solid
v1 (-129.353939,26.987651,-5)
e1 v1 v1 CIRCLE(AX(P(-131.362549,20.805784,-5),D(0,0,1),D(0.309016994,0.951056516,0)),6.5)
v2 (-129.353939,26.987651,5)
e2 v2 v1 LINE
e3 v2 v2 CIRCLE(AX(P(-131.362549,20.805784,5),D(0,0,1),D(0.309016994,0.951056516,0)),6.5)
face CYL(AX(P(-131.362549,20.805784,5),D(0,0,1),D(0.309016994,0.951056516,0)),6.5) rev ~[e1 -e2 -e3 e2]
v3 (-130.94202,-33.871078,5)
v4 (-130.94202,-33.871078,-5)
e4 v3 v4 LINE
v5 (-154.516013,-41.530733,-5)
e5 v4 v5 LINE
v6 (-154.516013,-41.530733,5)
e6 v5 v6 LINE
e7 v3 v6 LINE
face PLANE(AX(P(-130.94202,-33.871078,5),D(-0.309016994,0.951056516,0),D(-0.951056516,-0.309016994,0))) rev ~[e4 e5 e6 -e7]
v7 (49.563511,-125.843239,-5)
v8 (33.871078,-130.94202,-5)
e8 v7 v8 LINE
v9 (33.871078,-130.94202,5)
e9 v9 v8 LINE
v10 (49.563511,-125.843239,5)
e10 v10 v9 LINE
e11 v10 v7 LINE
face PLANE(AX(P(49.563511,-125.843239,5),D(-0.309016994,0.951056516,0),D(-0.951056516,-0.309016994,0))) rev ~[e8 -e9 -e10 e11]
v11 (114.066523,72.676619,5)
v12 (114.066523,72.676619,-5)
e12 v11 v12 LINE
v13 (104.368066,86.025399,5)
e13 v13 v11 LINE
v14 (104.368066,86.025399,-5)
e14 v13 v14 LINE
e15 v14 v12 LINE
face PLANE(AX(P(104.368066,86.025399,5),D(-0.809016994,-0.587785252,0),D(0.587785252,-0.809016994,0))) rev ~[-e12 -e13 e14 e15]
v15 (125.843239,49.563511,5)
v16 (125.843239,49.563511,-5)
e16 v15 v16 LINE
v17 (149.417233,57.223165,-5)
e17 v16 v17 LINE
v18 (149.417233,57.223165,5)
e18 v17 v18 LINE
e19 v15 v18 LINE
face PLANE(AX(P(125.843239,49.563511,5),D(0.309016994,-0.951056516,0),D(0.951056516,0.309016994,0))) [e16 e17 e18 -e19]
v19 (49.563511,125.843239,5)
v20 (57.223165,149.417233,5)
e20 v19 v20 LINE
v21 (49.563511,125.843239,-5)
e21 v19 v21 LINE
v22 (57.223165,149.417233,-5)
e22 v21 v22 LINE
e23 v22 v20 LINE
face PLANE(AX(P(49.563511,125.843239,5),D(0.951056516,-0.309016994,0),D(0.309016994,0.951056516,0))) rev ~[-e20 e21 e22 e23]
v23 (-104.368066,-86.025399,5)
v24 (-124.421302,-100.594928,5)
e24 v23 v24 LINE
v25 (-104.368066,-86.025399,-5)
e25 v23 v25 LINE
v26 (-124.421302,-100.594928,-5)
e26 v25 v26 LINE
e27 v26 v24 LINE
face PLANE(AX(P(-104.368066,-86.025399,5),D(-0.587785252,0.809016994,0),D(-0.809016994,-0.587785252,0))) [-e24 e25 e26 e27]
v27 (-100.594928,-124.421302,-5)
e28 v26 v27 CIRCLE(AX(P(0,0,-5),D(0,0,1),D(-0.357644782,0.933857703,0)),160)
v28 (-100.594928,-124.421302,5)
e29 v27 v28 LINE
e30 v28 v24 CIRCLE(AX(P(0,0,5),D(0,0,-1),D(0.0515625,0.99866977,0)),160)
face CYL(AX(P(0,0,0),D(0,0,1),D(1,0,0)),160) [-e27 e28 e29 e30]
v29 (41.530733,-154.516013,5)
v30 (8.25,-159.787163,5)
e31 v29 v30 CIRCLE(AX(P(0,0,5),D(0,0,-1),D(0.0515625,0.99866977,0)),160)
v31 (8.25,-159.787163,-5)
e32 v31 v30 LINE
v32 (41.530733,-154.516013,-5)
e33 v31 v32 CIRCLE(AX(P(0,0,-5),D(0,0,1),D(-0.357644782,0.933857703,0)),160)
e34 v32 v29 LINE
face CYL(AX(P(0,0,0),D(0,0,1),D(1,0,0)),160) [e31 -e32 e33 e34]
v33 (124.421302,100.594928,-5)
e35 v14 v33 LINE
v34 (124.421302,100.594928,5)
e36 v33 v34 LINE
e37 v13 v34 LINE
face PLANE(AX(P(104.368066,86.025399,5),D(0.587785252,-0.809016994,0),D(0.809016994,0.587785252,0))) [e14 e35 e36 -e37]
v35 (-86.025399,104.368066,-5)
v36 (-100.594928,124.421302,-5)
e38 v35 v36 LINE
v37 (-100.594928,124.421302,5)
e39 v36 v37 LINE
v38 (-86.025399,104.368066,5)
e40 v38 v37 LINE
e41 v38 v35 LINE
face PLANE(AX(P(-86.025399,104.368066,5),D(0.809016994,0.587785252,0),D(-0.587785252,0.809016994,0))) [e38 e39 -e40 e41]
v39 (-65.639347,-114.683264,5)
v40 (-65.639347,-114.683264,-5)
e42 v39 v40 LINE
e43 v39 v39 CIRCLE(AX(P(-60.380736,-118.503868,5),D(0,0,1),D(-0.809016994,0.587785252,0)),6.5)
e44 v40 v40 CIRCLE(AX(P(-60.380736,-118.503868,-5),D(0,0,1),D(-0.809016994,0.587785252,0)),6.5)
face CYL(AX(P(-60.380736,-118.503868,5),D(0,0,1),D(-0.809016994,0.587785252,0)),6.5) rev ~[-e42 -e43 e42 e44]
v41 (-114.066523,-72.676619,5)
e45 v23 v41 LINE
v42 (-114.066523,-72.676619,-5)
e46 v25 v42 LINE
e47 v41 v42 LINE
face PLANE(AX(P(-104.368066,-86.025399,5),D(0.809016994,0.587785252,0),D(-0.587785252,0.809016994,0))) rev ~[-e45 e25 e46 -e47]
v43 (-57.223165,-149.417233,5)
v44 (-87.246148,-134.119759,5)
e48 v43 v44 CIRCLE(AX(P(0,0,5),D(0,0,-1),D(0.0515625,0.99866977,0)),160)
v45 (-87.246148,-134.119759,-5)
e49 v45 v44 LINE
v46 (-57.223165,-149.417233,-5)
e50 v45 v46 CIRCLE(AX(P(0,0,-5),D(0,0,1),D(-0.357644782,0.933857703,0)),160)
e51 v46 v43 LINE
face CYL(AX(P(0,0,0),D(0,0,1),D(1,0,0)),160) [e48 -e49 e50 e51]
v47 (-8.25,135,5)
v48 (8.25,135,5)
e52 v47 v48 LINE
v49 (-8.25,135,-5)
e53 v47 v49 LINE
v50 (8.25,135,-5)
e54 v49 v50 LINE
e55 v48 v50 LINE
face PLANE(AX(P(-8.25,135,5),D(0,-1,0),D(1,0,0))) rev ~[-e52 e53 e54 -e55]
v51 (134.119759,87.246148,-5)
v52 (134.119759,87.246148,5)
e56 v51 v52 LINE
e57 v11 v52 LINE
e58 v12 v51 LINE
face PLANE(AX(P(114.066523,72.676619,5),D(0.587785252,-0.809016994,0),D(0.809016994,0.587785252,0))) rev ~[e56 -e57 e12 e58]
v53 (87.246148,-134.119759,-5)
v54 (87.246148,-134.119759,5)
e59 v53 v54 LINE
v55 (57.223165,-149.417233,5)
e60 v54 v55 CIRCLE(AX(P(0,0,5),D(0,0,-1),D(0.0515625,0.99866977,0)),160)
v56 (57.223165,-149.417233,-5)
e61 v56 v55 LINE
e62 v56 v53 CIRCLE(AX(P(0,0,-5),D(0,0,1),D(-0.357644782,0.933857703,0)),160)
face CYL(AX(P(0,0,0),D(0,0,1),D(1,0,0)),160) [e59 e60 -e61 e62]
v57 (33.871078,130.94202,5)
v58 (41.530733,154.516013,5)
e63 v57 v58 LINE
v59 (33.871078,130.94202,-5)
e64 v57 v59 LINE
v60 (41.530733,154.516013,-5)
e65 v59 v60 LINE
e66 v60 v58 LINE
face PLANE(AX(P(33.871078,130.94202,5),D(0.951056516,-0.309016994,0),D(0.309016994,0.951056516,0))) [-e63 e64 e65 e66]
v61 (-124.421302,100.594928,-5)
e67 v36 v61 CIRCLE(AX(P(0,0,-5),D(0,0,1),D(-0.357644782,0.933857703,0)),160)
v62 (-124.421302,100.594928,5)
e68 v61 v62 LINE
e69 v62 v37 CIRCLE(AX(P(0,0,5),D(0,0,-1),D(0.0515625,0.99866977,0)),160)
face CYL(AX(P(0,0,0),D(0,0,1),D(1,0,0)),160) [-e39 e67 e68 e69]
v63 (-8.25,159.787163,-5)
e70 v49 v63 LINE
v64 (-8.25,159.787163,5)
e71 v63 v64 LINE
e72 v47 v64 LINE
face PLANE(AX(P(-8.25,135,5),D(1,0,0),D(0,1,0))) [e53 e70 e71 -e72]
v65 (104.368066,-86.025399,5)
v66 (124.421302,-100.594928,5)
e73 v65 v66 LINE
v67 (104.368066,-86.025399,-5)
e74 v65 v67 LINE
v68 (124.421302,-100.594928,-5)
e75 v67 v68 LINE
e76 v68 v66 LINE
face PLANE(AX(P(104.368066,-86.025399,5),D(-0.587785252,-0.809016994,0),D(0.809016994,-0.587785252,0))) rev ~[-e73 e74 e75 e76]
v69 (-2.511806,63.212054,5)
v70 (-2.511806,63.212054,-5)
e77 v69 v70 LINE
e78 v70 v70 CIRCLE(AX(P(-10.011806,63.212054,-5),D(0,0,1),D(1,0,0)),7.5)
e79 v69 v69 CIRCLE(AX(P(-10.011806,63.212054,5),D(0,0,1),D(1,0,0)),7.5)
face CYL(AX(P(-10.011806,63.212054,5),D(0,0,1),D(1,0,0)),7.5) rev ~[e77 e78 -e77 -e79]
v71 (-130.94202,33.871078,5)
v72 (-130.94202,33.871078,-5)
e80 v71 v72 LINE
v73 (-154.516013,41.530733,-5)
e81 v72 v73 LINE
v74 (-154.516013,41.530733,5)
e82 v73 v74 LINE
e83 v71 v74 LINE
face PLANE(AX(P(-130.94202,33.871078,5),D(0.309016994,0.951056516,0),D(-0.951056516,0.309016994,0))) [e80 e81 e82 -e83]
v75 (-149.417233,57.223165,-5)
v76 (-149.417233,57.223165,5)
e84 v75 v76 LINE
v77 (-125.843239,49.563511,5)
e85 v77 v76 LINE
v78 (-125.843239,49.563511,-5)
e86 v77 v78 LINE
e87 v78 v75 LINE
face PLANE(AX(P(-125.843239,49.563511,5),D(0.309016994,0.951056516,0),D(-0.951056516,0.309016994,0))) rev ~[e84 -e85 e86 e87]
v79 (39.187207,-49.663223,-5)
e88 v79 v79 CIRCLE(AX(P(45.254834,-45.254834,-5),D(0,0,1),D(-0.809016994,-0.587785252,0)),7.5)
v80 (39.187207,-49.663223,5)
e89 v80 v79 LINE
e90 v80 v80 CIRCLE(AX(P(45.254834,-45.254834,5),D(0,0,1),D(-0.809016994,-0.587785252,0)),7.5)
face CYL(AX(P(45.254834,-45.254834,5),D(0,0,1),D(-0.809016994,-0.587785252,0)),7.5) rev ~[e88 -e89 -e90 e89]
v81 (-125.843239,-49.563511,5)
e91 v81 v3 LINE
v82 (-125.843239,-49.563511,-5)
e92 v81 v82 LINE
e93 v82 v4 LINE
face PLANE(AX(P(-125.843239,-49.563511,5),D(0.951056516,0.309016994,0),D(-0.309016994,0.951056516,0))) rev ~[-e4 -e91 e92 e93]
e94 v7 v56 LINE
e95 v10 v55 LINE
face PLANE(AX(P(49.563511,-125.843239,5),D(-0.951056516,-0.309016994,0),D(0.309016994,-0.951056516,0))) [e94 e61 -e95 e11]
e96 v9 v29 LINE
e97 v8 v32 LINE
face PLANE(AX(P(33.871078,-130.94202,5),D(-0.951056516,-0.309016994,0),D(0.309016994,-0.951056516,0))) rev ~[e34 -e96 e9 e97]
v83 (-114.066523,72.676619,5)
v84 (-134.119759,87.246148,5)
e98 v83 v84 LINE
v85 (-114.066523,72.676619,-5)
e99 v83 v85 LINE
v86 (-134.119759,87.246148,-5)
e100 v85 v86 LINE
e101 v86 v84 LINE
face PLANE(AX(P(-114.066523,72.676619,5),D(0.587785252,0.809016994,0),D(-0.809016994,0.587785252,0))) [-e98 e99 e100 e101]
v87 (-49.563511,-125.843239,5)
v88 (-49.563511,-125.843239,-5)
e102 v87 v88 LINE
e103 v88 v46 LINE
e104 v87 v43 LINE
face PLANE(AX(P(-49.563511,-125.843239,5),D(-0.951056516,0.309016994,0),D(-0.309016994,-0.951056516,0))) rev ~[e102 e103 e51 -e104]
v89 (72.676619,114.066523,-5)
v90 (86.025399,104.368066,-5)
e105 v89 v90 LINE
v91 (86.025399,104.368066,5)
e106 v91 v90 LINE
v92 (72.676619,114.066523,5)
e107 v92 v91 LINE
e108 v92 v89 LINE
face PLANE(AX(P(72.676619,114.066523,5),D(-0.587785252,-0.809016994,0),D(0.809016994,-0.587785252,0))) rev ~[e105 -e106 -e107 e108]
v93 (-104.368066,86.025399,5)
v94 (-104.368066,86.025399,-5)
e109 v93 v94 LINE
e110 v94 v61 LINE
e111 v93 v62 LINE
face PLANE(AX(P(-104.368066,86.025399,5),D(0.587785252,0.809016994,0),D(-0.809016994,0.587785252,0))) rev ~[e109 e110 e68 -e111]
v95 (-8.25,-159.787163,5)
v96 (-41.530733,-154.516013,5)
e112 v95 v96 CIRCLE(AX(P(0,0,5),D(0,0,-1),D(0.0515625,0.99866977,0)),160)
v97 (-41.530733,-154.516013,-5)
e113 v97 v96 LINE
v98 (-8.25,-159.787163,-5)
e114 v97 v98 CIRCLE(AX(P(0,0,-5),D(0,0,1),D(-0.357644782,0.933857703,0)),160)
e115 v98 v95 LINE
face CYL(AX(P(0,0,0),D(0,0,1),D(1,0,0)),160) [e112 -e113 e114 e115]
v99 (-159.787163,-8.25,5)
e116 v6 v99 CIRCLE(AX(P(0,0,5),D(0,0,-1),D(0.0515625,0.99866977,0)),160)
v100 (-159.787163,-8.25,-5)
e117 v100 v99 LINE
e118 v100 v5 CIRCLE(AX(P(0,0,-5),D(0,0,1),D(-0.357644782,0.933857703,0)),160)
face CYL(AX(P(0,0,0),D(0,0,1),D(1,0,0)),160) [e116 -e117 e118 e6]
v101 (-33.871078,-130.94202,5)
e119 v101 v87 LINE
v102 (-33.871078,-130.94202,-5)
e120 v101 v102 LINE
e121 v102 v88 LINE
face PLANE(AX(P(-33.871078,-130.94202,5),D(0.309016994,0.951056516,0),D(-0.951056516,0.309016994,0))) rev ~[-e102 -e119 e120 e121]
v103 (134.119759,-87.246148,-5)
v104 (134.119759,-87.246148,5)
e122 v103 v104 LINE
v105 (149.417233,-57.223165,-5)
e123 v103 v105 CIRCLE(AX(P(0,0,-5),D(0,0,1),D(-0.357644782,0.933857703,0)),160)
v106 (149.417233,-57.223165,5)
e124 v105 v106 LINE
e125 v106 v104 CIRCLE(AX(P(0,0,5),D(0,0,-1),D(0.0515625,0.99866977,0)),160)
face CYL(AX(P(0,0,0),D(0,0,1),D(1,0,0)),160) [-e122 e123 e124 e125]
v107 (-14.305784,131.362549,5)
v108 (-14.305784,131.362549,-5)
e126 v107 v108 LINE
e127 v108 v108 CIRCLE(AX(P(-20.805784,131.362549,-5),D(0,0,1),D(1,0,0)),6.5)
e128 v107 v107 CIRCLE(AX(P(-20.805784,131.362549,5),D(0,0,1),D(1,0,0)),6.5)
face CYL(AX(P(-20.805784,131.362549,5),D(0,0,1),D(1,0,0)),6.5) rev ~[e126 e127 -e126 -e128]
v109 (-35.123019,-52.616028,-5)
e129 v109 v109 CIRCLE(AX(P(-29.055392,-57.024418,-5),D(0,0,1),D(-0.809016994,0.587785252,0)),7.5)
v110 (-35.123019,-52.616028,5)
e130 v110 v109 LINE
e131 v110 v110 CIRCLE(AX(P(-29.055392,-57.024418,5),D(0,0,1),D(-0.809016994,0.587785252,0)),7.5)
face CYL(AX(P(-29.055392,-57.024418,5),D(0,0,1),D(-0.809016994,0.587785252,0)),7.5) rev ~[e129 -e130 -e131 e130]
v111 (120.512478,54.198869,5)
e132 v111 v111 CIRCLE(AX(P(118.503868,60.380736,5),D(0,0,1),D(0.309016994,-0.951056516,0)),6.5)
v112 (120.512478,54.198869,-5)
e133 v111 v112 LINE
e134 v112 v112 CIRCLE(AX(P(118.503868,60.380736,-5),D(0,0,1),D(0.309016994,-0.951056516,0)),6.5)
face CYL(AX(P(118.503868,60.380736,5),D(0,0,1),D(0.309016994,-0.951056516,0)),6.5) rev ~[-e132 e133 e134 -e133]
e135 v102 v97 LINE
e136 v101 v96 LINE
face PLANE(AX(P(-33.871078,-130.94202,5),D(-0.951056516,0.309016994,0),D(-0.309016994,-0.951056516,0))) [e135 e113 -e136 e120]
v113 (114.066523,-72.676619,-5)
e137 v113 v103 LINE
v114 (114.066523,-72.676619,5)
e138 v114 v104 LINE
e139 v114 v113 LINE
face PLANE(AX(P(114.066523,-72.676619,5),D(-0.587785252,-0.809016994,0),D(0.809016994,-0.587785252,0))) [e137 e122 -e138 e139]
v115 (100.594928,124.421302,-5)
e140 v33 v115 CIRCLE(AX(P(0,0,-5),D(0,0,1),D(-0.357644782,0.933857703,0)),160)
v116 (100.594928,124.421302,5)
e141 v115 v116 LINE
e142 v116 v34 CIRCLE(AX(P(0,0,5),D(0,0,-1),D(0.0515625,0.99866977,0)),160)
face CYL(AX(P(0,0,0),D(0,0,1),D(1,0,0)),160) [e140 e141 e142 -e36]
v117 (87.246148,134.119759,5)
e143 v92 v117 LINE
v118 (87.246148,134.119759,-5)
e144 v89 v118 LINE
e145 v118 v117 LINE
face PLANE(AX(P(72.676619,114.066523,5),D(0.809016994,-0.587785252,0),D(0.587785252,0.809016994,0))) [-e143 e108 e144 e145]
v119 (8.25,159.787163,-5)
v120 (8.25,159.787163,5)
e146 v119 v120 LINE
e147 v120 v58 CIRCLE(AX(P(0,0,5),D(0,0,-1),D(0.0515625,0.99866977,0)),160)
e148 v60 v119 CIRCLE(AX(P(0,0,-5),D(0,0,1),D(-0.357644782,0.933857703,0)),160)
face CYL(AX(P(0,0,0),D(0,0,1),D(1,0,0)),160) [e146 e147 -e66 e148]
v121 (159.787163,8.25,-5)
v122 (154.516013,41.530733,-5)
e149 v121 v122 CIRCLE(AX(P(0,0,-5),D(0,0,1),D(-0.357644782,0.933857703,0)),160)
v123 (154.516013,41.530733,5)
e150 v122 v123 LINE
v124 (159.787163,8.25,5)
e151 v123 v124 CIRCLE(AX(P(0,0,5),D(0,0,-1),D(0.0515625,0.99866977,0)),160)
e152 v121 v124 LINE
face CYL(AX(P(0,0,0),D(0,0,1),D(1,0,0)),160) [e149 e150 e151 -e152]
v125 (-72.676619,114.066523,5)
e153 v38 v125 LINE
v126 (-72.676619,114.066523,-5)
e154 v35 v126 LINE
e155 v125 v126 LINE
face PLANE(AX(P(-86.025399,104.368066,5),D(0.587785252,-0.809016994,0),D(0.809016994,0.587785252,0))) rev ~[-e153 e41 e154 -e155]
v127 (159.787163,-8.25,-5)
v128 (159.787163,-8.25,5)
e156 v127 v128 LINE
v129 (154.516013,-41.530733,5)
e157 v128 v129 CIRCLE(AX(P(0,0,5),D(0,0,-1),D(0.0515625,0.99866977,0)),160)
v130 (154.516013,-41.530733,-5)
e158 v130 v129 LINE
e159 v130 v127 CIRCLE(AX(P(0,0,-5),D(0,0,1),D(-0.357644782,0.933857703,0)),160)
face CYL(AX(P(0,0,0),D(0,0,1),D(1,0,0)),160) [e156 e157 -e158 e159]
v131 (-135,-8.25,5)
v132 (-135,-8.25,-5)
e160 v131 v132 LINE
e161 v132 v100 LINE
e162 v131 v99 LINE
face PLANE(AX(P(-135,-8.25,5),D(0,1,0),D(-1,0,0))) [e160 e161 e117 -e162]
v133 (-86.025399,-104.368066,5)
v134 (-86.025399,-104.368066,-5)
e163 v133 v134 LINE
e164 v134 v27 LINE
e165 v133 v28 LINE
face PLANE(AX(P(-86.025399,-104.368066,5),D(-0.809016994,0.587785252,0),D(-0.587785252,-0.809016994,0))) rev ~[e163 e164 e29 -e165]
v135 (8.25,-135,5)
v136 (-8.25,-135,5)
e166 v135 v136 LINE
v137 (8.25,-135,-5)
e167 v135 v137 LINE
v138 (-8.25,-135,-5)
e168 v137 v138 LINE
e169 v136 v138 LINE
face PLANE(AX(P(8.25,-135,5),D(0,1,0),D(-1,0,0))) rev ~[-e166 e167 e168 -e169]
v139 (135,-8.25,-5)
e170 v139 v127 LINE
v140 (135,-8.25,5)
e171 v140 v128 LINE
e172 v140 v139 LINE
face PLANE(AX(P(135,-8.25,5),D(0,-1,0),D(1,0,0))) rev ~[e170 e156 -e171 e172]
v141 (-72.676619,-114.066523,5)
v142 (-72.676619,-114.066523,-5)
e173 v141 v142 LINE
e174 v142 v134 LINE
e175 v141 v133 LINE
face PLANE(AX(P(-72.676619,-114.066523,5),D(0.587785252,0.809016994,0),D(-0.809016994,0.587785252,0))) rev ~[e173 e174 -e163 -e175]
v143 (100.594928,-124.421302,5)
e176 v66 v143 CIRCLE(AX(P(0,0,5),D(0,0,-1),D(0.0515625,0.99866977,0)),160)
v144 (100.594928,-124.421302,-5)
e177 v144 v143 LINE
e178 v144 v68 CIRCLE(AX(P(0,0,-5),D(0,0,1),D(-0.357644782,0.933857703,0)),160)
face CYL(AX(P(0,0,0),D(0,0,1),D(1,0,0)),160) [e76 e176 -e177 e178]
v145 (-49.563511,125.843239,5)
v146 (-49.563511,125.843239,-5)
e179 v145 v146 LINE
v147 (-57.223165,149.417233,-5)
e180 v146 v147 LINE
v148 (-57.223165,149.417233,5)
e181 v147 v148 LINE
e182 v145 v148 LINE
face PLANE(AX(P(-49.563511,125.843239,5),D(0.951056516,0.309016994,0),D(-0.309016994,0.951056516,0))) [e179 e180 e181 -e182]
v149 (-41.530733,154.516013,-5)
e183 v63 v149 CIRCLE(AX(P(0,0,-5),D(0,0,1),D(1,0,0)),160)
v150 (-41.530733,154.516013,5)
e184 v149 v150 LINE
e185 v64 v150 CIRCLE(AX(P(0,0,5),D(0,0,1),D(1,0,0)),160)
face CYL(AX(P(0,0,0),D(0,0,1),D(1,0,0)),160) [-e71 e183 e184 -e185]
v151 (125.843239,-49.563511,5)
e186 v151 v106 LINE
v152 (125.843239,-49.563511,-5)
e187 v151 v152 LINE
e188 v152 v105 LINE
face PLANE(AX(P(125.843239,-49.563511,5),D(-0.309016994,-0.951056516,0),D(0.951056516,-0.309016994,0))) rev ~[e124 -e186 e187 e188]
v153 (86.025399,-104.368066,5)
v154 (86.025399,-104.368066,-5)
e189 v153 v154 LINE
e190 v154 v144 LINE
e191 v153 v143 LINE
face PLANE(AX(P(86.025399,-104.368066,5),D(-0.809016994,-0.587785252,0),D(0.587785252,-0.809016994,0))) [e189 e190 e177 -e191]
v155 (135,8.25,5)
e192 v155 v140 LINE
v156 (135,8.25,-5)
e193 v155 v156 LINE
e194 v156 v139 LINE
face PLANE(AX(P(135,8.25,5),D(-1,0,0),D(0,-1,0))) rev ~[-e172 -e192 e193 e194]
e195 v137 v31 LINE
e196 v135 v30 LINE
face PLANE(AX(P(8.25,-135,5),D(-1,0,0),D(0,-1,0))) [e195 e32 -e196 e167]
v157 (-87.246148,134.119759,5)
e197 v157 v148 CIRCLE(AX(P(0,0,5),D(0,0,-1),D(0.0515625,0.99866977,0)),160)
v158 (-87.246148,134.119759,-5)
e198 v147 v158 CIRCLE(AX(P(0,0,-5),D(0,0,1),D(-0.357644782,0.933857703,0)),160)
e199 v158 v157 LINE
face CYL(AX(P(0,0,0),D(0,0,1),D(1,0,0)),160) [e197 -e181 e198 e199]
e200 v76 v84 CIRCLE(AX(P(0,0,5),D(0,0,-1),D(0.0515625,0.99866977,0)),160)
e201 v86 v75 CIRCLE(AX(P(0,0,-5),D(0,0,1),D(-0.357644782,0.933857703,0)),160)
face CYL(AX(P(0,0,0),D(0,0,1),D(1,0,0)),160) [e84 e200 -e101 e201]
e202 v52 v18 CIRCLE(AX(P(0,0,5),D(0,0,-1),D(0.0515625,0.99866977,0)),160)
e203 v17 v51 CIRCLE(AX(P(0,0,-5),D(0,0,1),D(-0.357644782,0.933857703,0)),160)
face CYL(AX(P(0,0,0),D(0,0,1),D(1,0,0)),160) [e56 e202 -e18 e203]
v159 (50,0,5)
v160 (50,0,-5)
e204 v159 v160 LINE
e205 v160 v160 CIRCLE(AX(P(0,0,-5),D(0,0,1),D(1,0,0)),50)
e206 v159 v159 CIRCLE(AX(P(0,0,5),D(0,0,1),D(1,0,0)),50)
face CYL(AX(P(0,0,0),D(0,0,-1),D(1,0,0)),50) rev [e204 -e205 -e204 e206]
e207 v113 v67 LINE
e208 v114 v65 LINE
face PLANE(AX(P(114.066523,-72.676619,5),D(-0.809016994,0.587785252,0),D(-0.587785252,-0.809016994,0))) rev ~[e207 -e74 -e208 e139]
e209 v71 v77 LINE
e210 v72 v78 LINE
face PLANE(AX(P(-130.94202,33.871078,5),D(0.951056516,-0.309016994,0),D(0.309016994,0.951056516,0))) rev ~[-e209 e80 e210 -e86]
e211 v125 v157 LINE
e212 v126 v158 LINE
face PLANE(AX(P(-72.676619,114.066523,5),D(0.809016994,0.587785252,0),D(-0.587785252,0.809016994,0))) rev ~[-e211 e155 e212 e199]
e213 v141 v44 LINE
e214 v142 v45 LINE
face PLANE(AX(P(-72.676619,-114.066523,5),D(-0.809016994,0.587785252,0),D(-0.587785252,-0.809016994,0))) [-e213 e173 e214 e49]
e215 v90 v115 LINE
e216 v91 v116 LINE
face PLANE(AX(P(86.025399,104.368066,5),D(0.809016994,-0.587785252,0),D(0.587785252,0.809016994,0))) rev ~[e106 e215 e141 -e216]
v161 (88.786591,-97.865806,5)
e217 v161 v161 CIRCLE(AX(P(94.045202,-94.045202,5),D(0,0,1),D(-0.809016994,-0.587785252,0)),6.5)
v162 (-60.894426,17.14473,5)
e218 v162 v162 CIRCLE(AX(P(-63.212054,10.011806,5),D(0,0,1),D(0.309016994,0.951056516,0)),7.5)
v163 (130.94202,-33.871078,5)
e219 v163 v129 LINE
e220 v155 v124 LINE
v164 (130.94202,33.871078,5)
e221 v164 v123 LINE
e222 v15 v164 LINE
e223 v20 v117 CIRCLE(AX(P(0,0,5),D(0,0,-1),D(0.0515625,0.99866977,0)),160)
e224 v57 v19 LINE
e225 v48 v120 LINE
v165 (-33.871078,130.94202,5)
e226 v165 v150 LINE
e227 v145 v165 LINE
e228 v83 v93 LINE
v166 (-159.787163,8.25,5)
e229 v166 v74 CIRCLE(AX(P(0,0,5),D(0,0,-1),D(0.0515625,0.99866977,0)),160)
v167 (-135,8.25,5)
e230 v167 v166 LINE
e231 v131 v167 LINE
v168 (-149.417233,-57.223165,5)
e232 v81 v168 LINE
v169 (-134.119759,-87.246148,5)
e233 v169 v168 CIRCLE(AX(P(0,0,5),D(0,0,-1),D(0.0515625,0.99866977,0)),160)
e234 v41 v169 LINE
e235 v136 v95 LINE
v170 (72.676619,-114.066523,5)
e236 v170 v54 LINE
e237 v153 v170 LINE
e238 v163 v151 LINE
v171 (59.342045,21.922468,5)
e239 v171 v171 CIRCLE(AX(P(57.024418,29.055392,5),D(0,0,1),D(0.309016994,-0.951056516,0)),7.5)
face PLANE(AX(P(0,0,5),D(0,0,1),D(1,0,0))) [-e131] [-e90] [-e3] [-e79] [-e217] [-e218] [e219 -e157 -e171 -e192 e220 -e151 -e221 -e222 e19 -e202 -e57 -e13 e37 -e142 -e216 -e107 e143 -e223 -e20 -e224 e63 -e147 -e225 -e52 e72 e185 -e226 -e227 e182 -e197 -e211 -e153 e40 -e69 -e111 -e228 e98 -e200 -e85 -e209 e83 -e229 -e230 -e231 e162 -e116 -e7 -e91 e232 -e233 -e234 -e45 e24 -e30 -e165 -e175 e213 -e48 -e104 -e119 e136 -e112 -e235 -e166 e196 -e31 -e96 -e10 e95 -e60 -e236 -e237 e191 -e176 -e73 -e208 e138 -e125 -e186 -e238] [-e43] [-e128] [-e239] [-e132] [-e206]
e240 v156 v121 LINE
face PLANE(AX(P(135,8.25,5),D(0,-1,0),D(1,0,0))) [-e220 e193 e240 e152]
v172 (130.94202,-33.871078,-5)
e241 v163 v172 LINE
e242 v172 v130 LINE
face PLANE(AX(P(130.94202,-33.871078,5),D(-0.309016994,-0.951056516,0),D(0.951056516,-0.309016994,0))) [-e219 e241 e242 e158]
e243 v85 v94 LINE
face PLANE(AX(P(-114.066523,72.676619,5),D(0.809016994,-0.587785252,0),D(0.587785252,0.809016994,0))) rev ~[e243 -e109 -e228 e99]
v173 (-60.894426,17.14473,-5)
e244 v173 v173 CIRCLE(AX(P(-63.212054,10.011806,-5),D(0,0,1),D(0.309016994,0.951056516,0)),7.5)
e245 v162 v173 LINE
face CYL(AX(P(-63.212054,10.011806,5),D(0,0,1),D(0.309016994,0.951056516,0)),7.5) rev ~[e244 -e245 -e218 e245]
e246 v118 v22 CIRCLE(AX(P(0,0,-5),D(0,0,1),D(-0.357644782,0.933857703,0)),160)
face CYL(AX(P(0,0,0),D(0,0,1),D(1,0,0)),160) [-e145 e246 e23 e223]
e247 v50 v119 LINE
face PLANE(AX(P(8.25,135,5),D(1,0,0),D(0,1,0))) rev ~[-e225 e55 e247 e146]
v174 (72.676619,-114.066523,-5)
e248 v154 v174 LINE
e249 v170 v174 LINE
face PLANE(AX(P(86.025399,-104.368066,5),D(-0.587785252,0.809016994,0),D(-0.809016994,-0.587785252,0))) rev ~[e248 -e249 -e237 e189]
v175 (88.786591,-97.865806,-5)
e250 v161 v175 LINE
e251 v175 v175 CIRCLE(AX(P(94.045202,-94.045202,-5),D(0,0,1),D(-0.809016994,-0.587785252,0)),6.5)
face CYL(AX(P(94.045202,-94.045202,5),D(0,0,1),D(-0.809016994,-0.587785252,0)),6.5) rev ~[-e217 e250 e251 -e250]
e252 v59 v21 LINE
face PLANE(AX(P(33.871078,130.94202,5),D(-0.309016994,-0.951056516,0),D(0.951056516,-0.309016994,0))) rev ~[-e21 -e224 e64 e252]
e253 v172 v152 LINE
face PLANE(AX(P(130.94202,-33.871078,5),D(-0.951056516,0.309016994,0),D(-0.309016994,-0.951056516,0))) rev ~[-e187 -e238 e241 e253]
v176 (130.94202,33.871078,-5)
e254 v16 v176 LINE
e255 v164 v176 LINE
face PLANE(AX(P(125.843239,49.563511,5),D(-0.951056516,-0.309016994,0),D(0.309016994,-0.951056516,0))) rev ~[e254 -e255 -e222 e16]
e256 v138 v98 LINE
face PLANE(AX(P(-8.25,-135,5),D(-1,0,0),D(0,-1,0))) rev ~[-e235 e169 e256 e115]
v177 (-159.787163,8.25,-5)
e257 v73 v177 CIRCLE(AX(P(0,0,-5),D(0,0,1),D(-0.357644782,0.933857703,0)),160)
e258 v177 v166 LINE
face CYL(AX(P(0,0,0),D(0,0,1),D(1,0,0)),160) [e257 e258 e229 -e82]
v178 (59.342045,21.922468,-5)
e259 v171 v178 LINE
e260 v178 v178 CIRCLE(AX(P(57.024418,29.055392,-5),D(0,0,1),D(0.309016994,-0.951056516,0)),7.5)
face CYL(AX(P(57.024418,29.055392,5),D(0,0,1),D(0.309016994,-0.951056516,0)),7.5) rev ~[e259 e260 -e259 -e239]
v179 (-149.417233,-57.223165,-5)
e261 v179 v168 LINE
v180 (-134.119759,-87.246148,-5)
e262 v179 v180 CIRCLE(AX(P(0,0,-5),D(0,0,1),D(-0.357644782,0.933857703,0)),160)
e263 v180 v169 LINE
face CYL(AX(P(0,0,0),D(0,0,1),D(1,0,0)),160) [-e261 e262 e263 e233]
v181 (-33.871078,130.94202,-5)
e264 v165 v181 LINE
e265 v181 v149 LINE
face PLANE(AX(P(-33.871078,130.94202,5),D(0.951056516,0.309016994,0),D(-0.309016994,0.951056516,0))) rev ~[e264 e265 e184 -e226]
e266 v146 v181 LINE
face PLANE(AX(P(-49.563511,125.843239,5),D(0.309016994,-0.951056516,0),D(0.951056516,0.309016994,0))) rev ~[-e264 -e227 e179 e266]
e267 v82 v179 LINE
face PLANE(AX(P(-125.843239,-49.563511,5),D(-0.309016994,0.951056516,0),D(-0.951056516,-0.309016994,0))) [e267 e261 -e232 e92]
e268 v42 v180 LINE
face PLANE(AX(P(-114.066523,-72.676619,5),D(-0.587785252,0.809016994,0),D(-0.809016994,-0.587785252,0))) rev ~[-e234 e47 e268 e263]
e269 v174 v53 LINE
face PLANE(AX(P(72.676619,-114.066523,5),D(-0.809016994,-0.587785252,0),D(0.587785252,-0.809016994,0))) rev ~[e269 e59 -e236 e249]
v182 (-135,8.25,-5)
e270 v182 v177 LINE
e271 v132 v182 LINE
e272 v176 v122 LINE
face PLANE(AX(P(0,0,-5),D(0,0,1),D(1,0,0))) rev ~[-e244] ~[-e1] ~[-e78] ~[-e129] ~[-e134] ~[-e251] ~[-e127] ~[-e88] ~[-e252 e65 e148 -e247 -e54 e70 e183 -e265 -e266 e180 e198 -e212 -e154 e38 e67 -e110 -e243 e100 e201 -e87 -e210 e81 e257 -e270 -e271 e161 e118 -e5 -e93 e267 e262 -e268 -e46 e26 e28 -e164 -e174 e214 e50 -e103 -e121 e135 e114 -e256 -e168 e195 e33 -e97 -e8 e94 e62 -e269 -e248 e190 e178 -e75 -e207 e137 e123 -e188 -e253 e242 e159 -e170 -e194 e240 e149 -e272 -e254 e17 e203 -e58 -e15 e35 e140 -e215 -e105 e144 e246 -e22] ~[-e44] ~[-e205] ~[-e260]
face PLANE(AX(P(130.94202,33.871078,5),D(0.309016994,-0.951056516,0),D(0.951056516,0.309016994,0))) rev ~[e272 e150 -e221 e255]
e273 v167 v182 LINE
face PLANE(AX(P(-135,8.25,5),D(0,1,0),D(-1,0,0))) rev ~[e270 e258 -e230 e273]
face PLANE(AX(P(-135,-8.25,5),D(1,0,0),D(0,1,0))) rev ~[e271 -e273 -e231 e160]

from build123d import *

# Parameters (mm, degrees)
ESQUISSE1_R                  = 160
ESQUISSE1_R_2                = 50
BOSS_EXTRU_1_DEPTH           = 5
ESQUISSE2_R                  = 7.5
ENL_V_MAT_EXTRU_1_DEPTH      = 11
ESQUISSE3_W                  = 16.5
ESQUISSE3_H                  = 25
ENL_V_MAT_EXTRU_2_DEPTH      = 11
ESQUISSE4_R                  = 6.5
ENL_V_MAT_EXTRU_3_DEPTH      = 11
R_P_TITION_CIRCULAIRE1_COUNT = 5
R_P_TITION_CIRCULAIRE2_COUNT = 20


with BuildPart() as part:
    # Esquisse1 → Boss.-Extru.1 (new body, symmetric)
    with BuildSketch(Plane.XY):
        Circle(ESQUISSE1_R)
        Circle(ESQUISSE1_R_2, mode=Mode.SUBTRACT)
    extrude(amount=BOSS_EXTRU_1_DEPTH, both=True)

    # Esquisse2 → Enlèv. mat.-Extru.1 (cut, through all)
    with BuildSketch(Plane.XY.offset(5)):
        with Locations((-10.011805763, 63.212053798)):
            Circle(ESQUISSE2_R)
    enl_v_mat_extru_1 = extrude(amount=-ENL_V_MAT_EXTRU_1_DEPTH, mode=Mode.SUBTRACT)

    # Esquisse3 → Enlèv. mat.-Extru.2 (cut, through all)
    with BuildSketch(Plane.XY.offset(5)):
        with Locations((0, 147.5)):
            Rectangle(ESQUISSE3_W, ESQUISSE3_H)
    enl_v_mat_extru_2 = extrude(amount=-ENL_V_MAT_EXTRU_2_DEPTH, mode=Mode.SUBTRACT)

    # Esquisse4 → Enlèv. mat.-Extru.3 (cut, through all)
    with BuildSketch(Plane.XY.offset(5)):
        with Locations((-20.80578385, 131.362549299)):
            Circle(ESQUISSE4_R)
    enl_v_mat_extru_3 = extrude(amount=-ENL_V_MAT_EXTRU_3_DEPTH, mode=Mode.SUBTRACT)

    # Répétition circulaire1: Enlèv. mat.-Extru.1, Enlèv. mat.-Extru.3 ×5 about axis
    r_p_tition_circulaire1_axis = Axis((0, 0, 0), (0, 0, 1))
    add([enl_v_mat_extru_1.rotate(r_p_tition_circulaire1_axis, i * 360 / R_P_TITION_CIRCULAIRE1_COUNT) for i in range(1, R_P_TITION_CIRCULAIRE1_COUNT)], mode=Mode.SUBTRACT)
    add([enl_v_mat_extru_3.rotate(r_p_tition_circulaire1_axis, i * 360 / R_P_TITION_CIRCULAIRE1_COUNT) for i in range(1, R_P_TITION_CIRCULAIRE1_COUNT)], mode=Mode.SUBTRACT)

    # Répétition circulaire2: Enlèv. mat.-Extru.2 ×20 about axis
    r_p_tition_circulaire2_axis = Axis((0, 0, 0), (0, 0, 1))
    for i in range(1, R_P_TITION_CIRCULAIRE2_COUNT):
        add(enl_v_mat_extru_2.rotate(r_p_tition_circulaire2_axis, i * 360 / R_P_TITION_CIRCULAIRE2_COUNT), mode=Mode.SUBTRACT)


solid = part.part
